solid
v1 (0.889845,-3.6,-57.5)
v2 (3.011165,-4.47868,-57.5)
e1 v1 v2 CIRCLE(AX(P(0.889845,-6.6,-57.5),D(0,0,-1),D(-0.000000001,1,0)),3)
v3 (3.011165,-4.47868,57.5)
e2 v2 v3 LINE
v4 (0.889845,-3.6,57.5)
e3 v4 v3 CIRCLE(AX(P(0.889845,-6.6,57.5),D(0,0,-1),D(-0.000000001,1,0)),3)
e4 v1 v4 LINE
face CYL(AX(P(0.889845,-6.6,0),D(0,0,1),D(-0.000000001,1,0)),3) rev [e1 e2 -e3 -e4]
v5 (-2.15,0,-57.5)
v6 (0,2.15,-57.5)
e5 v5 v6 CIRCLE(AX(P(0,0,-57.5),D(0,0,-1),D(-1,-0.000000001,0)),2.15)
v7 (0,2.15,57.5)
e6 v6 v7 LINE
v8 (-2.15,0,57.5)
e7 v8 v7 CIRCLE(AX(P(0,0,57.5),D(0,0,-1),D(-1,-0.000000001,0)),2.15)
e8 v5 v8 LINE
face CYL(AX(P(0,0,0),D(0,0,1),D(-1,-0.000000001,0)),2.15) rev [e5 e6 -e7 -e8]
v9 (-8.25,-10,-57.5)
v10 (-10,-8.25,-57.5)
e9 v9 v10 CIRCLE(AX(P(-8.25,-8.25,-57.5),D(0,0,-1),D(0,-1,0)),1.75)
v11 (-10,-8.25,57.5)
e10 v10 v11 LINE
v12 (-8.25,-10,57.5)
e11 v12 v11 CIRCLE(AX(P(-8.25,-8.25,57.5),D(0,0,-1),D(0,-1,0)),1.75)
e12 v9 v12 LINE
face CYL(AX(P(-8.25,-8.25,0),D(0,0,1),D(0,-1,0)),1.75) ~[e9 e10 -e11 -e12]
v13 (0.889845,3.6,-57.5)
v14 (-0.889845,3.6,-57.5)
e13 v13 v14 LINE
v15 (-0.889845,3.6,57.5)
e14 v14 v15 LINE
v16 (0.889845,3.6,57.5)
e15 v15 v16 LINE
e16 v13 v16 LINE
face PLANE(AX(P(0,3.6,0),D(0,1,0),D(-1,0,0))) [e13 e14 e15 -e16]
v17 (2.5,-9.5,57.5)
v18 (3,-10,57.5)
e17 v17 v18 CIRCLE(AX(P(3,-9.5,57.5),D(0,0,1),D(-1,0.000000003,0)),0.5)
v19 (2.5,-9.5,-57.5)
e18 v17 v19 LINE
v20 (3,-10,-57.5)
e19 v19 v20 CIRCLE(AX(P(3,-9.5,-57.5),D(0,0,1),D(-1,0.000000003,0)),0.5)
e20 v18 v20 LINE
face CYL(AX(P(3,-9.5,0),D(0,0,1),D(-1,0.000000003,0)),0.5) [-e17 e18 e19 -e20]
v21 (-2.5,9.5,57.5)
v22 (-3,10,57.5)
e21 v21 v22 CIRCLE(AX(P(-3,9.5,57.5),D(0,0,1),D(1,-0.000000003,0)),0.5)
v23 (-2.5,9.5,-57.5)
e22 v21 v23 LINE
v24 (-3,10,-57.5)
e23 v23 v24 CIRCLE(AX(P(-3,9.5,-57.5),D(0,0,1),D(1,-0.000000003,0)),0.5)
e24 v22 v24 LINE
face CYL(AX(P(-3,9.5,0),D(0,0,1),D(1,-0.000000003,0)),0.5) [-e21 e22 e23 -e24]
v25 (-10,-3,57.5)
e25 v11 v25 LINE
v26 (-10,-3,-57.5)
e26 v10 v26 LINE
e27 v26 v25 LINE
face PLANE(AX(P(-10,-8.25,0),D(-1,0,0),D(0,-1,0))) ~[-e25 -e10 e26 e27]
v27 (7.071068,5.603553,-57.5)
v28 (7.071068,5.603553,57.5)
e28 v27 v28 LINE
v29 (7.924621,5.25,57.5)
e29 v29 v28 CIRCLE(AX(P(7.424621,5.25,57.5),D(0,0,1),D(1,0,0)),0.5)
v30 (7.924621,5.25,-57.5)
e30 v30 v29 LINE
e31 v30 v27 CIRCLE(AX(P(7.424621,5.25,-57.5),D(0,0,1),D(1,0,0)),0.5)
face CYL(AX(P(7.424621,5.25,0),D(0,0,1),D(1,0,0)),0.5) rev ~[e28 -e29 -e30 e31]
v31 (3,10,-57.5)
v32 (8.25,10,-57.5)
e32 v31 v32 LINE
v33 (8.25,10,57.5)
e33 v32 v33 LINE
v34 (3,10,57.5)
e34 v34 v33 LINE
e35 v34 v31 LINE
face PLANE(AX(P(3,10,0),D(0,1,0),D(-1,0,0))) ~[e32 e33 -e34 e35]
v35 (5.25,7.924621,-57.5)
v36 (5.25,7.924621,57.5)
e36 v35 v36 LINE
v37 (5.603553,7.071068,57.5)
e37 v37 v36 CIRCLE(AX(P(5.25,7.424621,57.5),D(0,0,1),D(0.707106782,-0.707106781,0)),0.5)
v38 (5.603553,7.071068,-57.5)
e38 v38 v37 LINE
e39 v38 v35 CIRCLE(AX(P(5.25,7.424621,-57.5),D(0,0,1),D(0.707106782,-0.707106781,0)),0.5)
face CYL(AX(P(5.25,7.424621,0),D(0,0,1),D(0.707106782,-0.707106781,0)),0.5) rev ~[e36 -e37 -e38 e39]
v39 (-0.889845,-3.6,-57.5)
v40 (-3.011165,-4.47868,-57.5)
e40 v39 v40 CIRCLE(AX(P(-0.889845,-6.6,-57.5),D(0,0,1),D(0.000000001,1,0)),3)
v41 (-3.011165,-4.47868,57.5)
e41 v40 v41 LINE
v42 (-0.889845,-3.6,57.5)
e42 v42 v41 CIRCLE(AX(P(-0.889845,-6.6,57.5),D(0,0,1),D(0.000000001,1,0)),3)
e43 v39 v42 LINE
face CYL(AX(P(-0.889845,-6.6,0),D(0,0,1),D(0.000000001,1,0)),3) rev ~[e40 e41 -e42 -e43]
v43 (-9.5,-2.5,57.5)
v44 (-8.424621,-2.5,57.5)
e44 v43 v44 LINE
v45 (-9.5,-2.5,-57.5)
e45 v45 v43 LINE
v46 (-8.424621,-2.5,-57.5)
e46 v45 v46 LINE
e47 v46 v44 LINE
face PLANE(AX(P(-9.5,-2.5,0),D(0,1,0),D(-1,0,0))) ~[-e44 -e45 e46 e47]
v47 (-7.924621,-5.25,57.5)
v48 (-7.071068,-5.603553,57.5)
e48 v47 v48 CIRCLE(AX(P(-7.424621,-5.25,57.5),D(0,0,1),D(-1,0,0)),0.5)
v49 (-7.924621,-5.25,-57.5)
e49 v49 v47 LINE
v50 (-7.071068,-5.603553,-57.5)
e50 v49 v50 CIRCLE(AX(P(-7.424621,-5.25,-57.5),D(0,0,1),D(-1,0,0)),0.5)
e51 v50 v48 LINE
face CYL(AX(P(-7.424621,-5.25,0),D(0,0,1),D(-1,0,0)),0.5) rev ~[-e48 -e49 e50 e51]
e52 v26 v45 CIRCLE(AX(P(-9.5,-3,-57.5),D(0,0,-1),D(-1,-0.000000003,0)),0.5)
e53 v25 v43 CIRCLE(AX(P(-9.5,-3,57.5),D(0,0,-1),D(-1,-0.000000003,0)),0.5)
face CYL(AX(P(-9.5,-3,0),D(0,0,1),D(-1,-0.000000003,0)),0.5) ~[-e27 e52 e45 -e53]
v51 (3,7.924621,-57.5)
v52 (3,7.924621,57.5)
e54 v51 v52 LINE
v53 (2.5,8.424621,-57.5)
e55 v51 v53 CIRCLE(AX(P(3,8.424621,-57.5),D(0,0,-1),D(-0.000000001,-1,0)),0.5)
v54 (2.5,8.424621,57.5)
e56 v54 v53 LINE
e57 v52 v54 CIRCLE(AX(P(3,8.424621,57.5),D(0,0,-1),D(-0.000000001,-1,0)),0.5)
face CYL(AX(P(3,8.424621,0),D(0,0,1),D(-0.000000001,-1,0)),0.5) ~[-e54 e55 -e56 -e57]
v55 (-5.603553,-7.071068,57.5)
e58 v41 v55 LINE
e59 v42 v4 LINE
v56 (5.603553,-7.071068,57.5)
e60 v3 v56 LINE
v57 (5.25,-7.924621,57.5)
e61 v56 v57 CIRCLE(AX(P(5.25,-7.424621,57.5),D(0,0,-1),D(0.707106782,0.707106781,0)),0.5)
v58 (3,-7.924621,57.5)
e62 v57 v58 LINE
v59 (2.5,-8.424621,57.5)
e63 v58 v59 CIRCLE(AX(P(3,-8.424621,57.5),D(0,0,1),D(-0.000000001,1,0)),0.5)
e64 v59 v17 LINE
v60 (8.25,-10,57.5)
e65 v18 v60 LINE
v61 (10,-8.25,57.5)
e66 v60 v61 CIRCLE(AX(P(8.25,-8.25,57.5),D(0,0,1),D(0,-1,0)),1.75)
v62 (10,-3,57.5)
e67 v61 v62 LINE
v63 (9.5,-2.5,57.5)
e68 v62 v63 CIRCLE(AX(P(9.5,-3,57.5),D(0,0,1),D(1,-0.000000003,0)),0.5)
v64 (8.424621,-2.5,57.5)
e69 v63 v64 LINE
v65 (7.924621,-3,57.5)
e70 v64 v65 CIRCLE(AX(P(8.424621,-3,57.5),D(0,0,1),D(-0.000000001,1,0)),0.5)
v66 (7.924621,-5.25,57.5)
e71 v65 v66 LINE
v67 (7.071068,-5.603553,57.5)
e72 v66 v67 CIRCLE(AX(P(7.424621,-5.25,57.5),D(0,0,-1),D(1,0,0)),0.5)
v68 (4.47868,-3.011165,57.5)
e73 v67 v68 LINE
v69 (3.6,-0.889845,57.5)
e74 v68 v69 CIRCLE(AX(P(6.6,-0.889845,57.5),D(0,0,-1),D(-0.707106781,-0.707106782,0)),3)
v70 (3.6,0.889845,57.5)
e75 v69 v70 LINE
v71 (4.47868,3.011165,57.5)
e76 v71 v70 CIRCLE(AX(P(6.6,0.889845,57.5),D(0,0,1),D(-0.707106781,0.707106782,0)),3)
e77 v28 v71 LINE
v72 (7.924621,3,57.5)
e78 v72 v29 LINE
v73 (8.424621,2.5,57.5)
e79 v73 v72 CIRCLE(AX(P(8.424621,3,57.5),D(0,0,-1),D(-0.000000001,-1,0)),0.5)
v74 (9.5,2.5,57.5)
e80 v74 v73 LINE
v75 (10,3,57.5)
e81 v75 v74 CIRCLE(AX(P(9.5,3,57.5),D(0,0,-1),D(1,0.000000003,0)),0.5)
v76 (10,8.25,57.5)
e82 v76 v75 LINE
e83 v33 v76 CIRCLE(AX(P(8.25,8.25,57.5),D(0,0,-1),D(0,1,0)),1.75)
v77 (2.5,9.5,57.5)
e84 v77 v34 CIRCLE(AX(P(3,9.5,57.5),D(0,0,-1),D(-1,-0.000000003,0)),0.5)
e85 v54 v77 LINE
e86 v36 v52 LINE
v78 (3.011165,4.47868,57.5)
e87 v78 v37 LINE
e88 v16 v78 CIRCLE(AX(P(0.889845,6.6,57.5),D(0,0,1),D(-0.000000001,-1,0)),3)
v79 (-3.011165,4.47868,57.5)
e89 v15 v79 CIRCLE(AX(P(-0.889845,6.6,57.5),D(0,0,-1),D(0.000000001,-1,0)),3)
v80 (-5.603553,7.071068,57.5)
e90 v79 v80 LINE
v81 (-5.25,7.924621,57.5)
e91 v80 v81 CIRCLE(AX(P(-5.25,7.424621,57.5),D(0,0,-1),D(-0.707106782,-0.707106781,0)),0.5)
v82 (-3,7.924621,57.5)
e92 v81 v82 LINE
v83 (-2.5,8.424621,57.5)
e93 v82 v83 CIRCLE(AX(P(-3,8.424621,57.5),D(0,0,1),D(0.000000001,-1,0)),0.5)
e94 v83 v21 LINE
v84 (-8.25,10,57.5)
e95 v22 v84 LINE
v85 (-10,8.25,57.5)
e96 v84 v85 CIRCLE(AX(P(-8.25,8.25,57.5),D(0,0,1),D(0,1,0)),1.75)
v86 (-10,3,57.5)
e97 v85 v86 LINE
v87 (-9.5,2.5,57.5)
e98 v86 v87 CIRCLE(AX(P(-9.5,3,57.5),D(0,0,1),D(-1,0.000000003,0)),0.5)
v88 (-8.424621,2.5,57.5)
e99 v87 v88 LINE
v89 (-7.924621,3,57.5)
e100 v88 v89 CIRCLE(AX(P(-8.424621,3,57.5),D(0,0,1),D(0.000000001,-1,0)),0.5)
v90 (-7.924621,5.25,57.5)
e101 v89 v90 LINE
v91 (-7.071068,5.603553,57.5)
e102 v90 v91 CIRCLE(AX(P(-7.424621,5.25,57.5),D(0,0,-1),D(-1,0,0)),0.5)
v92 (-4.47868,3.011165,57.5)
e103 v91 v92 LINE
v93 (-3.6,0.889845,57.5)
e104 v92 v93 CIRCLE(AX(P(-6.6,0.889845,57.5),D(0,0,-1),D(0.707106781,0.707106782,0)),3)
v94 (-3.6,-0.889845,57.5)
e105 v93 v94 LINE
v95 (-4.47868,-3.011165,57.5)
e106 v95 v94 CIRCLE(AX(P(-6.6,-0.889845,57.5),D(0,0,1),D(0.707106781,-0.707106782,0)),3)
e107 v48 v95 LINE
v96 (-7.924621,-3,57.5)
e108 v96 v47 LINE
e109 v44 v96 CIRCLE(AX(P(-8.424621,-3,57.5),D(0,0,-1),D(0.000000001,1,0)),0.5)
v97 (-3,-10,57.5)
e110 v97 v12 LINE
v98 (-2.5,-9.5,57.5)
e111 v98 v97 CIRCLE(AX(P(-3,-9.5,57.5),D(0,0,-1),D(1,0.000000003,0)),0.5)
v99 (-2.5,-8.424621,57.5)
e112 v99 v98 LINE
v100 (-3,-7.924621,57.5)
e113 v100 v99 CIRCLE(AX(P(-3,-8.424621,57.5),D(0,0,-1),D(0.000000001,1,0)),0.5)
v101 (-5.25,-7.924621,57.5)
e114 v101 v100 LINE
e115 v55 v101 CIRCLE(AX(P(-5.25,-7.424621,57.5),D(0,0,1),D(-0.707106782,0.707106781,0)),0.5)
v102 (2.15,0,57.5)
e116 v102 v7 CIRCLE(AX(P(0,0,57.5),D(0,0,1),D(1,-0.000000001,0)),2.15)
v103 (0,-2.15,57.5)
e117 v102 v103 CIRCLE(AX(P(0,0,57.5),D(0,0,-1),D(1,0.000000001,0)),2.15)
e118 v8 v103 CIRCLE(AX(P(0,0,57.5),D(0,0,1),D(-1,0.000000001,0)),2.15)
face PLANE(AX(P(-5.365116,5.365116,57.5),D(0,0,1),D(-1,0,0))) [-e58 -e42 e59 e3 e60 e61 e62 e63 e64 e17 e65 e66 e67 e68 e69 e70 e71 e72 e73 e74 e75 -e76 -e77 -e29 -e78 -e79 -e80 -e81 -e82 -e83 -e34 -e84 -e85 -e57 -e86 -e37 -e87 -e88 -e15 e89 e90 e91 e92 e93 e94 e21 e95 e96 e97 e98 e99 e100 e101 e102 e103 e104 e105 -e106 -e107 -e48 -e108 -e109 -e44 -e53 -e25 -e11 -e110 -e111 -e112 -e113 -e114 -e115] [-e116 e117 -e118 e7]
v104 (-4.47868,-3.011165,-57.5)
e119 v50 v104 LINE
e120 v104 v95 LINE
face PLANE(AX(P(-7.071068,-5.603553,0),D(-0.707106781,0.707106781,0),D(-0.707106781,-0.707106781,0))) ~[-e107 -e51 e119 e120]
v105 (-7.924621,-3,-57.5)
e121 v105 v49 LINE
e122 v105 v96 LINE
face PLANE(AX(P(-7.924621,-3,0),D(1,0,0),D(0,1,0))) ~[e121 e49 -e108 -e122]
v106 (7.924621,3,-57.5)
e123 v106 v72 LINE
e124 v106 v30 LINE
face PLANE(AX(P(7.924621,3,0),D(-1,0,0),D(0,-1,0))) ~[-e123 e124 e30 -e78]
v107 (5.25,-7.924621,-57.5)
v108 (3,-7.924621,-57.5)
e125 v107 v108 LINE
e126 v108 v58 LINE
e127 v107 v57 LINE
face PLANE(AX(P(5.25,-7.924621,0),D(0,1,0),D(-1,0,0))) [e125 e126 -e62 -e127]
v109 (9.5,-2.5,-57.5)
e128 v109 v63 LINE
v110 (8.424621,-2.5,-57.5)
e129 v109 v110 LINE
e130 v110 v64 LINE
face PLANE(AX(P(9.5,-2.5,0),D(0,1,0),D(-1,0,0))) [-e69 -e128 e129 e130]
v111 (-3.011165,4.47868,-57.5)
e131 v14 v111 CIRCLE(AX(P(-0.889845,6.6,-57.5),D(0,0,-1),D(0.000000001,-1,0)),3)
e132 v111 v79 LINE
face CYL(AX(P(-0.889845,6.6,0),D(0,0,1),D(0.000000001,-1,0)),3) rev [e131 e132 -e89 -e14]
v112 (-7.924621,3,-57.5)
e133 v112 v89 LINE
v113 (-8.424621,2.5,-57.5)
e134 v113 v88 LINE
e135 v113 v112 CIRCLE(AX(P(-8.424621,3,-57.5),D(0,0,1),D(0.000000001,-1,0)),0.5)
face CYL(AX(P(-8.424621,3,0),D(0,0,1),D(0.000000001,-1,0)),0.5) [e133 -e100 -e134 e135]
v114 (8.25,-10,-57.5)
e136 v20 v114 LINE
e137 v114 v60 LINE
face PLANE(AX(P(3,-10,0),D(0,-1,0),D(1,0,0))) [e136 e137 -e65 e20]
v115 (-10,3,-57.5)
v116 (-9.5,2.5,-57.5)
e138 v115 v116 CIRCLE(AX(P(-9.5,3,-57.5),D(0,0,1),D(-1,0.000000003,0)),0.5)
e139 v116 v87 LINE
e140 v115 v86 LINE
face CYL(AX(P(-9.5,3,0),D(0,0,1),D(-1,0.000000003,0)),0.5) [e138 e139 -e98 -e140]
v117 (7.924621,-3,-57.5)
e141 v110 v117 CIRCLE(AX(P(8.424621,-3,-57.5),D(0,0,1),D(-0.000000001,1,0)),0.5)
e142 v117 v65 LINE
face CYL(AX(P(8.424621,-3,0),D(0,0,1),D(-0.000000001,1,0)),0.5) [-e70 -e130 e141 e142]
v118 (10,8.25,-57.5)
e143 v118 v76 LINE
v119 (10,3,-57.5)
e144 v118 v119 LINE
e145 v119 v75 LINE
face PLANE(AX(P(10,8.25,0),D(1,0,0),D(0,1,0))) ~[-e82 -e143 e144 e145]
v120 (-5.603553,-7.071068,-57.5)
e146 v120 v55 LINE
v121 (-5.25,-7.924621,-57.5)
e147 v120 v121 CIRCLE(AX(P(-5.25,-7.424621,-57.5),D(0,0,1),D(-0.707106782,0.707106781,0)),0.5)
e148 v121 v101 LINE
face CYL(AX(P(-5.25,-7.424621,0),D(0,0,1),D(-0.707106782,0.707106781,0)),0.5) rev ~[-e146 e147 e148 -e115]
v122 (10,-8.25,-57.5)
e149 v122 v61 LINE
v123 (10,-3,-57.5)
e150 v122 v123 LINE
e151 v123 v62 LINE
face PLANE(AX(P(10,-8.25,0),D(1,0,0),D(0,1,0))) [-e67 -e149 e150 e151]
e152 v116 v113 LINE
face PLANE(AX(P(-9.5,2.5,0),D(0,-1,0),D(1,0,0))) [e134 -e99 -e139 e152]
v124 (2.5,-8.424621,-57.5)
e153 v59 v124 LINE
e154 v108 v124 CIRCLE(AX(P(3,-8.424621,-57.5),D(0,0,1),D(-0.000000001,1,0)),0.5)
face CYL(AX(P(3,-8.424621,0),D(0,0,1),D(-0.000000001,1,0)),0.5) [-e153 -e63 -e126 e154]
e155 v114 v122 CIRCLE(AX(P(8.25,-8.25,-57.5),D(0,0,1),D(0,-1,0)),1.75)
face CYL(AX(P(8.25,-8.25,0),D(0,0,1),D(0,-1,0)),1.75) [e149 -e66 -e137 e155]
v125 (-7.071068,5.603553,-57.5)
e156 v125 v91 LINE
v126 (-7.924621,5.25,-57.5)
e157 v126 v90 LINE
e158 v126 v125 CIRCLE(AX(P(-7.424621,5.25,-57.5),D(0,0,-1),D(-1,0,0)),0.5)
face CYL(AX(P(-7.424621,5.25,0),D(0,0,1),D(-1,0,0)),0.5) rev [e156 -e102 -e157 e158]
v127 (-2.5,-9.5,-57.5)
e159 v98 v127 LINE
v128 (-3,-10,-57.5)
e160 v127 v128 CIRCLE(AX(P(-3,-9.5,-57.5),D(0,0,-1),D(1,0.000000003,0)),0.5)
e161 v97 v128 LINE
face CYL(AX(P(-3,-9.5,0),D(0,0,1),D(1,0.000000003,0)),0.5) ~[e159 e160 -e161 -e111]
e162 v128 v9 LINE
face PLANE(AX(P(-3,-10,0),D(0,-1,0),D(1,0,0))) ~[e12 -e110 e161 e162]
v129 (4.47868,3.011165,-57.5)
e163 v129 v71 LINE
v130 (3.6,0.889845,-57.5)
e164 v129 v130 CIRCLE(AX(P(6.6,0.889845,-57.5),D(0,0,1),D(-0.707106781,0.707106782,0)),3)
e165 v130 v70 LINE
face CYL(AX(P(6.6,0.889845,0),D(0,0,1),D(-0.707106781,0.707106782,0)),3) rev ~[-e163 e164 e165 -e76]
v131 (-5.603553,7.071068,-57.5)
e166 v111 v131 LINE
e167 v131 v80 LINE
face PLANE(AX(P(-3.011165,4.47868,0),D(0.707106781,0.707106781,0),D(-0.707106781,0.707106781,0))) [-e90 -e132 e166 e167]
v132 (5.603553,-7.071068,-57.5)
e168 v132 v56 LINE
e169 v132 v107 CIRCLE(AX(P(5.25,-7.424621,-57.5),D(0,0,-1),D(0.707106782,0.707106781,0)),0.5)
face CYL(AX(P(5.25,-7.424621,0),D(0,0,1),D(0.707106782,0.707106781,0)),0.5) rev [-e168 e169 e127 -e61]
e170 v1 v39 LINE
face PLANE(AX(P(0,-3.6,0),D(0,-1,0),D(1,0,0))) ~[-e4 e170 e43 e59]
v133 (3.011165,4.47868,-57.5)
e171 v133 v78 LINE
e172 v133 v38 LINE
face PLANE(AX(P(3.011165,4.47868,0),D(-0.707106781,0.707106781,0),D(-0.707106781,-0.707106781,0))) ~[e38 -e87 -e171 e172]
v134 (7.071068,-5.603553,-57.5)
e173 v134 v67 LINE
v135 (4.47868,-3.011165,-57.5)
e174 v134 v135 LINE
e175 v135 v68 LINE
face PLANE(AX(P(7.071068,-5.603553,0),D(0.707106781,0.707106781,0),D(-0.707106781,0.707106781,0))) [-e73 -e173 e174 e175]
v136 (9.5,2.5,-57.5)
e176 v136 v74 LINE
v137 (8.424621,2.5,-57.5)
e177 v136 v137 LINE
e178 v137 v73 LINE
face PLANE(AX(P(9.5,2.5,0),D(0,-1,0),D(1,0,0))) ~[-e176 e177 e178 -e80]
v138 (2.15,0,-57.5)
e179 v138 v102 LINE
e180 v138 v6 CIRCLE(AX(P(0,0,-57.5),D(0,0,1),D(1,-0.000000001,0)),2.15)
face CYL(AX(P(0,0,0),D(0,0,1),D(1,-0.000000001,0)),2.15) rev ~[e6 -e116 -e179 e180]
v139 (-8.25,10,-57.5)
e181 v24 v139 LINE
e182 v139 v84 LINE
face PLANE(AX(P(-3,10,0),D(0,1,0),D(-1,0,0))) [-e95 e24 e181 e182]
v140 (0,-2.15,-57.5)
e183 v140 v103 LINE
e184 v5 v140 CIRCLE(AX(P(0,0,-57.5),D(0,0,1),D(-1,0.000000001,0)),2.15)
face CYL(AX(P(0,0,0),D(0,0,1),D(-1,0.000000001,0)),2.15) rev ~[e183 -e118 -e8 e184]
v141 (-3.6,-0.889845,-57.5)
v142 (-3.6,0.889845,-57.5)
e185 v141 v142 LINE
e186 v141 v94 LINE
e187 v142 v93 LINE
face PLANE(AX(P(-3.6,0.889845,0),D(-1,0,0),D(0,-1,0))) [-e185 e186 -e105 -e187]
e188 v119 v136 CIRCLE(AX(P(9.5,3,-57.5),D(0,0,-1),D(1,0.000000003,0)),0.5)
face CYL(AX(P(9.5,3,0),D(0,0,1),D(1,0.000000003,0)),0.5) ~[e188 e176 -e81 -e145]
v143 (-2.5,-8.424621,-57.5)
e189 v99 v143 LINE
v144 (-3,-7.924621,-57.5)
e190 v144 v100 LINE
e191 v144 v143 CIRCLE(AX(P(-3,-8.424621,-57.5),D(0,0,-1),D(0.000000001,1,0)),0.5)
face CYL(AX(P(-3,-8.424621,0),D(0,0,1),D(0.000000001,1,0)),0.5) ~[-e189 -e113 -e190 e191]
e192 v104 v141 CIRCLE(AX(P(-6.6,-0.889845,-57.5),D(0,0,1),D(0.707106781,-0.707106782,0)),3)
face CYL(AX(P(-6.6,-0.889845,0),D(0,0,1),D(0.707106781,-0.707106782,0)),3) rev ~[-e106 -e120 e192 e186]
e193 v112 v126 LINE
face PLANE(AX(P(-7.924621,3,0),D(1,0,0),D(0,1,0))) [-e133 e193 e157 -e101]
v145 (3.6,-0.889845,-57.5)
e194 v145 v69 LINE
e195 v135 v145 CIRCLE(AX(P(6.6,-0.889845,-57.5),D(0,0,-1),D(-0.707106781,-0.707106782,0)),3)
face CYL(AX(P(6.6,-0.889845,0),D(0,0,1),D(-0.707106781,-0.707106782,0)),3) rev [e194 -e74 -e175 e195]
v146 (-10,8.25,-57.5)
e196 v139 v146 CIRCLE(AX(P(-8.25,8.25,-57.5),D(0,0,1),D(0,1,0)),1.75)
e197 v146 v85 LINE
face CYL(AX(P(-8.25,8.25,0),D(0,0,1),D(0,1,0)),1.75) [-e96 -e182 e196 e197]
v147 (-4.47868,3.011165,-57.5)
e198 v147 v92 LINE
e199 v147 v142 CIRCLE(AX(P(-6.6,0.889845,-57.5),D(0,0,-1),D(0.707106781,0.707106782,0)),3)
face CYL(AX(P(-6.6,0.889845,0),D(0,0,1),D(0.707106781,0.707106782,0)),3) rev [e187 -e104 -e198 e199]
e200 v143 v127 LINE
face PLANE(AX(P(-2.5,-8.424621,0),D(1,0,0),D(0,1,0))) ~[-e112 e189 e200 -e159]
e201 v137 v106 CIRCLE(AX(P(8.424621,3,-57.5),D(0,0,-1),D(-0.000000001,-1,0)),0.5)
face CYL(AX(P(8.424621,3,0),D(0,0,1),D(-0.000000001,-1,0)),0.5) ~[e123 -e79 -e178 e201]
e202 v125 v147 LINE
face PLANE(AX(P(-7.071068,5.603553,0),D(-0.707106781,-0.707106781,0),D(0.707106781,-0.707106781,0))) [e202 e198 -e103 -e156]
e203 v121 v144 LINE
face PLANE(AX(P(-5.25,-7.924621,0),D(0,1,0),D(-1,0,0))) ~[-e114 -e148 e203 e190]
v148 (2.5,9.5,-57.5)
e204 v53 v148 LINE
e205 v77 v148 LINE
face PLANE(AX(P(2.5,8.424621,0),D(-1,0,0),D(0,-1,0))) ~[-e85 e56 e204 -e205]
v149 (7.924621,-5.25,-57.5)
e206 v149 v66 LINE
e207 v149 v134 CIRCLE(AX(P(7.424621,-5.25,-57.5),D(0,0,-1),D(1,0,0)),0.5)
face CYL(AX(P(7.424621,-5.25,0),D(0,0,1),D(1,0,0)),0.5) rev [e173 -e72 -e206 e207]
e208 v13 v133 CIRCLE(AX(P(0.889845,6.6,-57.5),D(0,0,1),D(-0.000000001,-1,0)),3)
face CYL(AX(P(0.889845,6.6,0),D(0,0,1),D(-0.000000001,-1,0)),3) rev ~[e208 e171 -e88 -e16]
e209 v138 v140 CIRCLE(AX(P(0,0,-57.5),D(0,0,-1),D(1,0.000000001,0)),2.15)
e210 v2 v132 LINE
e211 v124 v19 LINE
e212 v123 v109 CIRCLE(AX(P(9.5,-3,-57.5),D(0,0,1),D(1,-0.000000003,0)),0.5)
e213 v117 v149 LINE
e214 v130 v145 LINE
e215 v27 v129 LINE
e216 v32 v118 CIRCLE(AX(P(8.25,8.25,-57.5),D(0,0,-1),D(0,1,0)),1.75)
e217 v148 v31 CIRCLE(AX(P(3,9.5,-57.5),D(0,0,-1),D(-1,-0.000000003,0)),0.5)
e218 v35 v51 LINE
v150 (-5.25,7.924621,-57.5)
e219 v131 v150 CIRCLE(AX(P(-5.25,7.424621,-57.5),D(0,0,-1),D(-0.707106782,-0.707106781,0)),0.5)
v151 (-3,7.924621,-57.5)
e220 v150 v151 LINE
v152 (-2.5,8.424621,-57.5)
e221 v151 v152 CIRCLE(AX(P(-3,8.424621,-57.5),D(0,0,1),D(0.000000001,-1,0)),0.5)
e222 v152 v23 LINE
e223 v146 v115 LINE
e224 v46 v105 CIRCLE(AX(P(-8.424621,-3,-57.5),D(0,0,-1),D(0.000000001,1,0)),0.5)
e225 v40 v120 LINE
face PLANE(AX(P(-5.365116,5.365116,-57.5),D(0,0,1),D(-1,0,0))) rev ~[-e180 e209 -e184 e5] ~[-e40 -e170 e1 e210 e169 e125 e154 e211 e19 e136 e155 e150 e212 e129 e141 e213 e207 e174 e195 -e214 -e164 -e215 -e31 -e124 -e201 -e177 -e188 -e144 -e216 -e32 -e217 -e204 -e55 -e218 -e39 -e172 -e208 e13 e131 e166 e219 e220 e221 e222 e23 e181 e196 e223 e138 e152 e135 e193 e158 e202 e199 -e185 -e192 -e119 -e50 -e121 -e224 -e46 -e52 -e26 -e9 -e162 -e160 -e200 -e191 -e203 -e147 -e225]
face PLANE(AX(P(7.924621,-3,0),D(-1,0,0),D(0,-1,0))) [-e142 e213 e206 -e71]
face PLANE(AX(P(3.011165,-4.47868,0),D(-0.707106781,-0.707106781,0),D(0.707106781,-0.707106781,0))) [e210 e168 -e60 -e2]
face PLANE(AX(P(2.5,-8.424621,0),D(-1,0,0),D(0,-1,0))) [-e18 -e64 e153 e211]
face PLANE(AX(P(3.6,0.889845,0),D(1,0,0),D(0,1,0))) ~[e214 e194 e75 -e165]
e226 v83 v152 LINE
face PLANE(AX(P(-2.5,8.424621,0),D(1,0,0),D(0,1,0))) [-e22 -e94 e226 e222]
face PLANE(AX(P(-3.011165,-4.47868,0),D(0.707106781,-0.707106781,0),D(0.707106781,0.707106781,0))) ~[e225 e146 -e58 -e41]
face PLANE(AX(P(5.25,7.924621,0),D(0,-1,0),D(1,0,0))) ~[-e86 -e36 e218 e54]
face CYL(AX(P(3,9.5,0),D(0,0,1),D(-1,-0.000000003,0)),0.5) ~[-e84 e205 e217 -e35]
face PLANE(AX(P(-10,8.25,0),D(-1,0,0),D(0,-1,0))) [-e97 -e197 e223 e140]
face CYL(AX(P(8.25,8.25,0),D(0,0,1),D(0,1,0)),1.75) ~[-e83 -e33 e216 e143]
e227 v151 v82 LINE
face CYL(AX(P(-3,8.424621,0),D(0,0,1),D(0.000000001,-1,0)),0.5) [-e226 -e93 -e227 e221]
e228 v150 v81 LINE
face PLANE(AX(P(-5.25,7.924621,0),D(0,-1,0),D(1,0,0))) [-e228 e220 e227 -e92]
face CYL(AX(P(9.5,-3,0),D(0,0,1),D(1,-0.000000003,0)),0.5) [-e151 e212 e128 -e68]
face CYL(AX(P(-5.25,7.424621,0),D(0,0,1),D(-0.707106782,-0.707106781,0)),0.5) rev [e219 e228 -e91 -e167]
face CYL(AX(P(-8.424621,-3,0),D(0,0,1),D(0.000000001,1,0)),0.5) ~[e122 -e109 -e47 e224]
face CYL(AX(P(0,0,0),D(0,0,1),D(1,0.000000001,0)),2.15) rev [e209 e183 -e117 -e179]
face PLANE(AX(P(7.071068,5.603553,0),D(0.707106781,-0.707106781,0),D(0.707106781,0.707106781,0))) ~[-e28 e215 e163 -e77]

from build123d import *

# Parameters (mm, degrees)
BOSS_EXTRUDE1_DEPTH = 57.5


with BuildPart() as part:
    # Sketch4 → Boss-Extrude1 (new, symmetric)
    with BuildSketch(Plane.XY):
        with BuildLine():
            Line((3, -10), (8.25, -10))
            ThreePointArc((8.25, -10), (9.487436867, -9.487436867), (10, -8.25))
            Line((10, -8.25), (10, -3))
            ThreePointArc((10, -3), (9.853553391, -2.646446609), (9.5, -2.5))
            Line((9.5, -2.5), (8.424621202, -2.5))
            ThreePointArc((8.424621202, -2.5), (8.071067812, -2.646446609), (7.924621202, -3))
            Line((7.924621202, -3), (7.924621202, -5.25))
            ThreePointArc((7.924621202, -5.25), (7.615962919, -5.711939766), (7.071067812, -5.603553391))
            Line((7.071067812, -5.603553391), (4.478679656, -3.011165235))
            ThreePointArc((4.478679656, -3.011165235), (3.828361402, -2.037895189), (3.6, -0.889844892))
            Line((3.6, -0.889844892), (3.6, 0))
            Line((3.6, 0), (2.15, 0))
            ThreePointArc((2.15, 0), (1.52027958, -1.52027958), (0, -2.15))
            Line((0, -2.15), (0, -3.6))
            Line((0, -3.6), (0.889844892, -3.6))
            ThreePointArc((0.889844892, -3.6), (2.037895189, -3.828361402), (3.011165235, -4.478679656))
            Line((3.011165235, -4.478679656), (5.603553391, -7.071067812))
            ThreePointArc((5.603553391, -7.071067812), (5.711939766, -7.615962919), (5.25, -7.924621202))
            Line((5.25, -7.924621202), (3, -7.924621202))
            ThreePointArc((3, -7.924621202), (2.646446609, -8.071067812), (2.5, -8.424621202))
            Line((2.5, -8.424621202), (2.5, -9.5))
            ThreePointArc((2.5, -9.5), (2.646446609, -9.853553391), (3, -10))
        make_face()
    extrude(amount=BOSS_EXTRUDE1_DEPTH, both=True)

    # Mirror1: part across plane


with BuildPart() as part_1:
    add(part.part)
    add(part.part.mirror(Plane(origin=(0, 0, 0), x_dir=(0, 0, 1), z_dir=(1, 0, 0))))

    # Mirror2: part across plane


with BuildPart() as part_2:
    add(part_1.part)
    add(part_1.part.mirror(Plane.ZX))


solid = part_2.part
